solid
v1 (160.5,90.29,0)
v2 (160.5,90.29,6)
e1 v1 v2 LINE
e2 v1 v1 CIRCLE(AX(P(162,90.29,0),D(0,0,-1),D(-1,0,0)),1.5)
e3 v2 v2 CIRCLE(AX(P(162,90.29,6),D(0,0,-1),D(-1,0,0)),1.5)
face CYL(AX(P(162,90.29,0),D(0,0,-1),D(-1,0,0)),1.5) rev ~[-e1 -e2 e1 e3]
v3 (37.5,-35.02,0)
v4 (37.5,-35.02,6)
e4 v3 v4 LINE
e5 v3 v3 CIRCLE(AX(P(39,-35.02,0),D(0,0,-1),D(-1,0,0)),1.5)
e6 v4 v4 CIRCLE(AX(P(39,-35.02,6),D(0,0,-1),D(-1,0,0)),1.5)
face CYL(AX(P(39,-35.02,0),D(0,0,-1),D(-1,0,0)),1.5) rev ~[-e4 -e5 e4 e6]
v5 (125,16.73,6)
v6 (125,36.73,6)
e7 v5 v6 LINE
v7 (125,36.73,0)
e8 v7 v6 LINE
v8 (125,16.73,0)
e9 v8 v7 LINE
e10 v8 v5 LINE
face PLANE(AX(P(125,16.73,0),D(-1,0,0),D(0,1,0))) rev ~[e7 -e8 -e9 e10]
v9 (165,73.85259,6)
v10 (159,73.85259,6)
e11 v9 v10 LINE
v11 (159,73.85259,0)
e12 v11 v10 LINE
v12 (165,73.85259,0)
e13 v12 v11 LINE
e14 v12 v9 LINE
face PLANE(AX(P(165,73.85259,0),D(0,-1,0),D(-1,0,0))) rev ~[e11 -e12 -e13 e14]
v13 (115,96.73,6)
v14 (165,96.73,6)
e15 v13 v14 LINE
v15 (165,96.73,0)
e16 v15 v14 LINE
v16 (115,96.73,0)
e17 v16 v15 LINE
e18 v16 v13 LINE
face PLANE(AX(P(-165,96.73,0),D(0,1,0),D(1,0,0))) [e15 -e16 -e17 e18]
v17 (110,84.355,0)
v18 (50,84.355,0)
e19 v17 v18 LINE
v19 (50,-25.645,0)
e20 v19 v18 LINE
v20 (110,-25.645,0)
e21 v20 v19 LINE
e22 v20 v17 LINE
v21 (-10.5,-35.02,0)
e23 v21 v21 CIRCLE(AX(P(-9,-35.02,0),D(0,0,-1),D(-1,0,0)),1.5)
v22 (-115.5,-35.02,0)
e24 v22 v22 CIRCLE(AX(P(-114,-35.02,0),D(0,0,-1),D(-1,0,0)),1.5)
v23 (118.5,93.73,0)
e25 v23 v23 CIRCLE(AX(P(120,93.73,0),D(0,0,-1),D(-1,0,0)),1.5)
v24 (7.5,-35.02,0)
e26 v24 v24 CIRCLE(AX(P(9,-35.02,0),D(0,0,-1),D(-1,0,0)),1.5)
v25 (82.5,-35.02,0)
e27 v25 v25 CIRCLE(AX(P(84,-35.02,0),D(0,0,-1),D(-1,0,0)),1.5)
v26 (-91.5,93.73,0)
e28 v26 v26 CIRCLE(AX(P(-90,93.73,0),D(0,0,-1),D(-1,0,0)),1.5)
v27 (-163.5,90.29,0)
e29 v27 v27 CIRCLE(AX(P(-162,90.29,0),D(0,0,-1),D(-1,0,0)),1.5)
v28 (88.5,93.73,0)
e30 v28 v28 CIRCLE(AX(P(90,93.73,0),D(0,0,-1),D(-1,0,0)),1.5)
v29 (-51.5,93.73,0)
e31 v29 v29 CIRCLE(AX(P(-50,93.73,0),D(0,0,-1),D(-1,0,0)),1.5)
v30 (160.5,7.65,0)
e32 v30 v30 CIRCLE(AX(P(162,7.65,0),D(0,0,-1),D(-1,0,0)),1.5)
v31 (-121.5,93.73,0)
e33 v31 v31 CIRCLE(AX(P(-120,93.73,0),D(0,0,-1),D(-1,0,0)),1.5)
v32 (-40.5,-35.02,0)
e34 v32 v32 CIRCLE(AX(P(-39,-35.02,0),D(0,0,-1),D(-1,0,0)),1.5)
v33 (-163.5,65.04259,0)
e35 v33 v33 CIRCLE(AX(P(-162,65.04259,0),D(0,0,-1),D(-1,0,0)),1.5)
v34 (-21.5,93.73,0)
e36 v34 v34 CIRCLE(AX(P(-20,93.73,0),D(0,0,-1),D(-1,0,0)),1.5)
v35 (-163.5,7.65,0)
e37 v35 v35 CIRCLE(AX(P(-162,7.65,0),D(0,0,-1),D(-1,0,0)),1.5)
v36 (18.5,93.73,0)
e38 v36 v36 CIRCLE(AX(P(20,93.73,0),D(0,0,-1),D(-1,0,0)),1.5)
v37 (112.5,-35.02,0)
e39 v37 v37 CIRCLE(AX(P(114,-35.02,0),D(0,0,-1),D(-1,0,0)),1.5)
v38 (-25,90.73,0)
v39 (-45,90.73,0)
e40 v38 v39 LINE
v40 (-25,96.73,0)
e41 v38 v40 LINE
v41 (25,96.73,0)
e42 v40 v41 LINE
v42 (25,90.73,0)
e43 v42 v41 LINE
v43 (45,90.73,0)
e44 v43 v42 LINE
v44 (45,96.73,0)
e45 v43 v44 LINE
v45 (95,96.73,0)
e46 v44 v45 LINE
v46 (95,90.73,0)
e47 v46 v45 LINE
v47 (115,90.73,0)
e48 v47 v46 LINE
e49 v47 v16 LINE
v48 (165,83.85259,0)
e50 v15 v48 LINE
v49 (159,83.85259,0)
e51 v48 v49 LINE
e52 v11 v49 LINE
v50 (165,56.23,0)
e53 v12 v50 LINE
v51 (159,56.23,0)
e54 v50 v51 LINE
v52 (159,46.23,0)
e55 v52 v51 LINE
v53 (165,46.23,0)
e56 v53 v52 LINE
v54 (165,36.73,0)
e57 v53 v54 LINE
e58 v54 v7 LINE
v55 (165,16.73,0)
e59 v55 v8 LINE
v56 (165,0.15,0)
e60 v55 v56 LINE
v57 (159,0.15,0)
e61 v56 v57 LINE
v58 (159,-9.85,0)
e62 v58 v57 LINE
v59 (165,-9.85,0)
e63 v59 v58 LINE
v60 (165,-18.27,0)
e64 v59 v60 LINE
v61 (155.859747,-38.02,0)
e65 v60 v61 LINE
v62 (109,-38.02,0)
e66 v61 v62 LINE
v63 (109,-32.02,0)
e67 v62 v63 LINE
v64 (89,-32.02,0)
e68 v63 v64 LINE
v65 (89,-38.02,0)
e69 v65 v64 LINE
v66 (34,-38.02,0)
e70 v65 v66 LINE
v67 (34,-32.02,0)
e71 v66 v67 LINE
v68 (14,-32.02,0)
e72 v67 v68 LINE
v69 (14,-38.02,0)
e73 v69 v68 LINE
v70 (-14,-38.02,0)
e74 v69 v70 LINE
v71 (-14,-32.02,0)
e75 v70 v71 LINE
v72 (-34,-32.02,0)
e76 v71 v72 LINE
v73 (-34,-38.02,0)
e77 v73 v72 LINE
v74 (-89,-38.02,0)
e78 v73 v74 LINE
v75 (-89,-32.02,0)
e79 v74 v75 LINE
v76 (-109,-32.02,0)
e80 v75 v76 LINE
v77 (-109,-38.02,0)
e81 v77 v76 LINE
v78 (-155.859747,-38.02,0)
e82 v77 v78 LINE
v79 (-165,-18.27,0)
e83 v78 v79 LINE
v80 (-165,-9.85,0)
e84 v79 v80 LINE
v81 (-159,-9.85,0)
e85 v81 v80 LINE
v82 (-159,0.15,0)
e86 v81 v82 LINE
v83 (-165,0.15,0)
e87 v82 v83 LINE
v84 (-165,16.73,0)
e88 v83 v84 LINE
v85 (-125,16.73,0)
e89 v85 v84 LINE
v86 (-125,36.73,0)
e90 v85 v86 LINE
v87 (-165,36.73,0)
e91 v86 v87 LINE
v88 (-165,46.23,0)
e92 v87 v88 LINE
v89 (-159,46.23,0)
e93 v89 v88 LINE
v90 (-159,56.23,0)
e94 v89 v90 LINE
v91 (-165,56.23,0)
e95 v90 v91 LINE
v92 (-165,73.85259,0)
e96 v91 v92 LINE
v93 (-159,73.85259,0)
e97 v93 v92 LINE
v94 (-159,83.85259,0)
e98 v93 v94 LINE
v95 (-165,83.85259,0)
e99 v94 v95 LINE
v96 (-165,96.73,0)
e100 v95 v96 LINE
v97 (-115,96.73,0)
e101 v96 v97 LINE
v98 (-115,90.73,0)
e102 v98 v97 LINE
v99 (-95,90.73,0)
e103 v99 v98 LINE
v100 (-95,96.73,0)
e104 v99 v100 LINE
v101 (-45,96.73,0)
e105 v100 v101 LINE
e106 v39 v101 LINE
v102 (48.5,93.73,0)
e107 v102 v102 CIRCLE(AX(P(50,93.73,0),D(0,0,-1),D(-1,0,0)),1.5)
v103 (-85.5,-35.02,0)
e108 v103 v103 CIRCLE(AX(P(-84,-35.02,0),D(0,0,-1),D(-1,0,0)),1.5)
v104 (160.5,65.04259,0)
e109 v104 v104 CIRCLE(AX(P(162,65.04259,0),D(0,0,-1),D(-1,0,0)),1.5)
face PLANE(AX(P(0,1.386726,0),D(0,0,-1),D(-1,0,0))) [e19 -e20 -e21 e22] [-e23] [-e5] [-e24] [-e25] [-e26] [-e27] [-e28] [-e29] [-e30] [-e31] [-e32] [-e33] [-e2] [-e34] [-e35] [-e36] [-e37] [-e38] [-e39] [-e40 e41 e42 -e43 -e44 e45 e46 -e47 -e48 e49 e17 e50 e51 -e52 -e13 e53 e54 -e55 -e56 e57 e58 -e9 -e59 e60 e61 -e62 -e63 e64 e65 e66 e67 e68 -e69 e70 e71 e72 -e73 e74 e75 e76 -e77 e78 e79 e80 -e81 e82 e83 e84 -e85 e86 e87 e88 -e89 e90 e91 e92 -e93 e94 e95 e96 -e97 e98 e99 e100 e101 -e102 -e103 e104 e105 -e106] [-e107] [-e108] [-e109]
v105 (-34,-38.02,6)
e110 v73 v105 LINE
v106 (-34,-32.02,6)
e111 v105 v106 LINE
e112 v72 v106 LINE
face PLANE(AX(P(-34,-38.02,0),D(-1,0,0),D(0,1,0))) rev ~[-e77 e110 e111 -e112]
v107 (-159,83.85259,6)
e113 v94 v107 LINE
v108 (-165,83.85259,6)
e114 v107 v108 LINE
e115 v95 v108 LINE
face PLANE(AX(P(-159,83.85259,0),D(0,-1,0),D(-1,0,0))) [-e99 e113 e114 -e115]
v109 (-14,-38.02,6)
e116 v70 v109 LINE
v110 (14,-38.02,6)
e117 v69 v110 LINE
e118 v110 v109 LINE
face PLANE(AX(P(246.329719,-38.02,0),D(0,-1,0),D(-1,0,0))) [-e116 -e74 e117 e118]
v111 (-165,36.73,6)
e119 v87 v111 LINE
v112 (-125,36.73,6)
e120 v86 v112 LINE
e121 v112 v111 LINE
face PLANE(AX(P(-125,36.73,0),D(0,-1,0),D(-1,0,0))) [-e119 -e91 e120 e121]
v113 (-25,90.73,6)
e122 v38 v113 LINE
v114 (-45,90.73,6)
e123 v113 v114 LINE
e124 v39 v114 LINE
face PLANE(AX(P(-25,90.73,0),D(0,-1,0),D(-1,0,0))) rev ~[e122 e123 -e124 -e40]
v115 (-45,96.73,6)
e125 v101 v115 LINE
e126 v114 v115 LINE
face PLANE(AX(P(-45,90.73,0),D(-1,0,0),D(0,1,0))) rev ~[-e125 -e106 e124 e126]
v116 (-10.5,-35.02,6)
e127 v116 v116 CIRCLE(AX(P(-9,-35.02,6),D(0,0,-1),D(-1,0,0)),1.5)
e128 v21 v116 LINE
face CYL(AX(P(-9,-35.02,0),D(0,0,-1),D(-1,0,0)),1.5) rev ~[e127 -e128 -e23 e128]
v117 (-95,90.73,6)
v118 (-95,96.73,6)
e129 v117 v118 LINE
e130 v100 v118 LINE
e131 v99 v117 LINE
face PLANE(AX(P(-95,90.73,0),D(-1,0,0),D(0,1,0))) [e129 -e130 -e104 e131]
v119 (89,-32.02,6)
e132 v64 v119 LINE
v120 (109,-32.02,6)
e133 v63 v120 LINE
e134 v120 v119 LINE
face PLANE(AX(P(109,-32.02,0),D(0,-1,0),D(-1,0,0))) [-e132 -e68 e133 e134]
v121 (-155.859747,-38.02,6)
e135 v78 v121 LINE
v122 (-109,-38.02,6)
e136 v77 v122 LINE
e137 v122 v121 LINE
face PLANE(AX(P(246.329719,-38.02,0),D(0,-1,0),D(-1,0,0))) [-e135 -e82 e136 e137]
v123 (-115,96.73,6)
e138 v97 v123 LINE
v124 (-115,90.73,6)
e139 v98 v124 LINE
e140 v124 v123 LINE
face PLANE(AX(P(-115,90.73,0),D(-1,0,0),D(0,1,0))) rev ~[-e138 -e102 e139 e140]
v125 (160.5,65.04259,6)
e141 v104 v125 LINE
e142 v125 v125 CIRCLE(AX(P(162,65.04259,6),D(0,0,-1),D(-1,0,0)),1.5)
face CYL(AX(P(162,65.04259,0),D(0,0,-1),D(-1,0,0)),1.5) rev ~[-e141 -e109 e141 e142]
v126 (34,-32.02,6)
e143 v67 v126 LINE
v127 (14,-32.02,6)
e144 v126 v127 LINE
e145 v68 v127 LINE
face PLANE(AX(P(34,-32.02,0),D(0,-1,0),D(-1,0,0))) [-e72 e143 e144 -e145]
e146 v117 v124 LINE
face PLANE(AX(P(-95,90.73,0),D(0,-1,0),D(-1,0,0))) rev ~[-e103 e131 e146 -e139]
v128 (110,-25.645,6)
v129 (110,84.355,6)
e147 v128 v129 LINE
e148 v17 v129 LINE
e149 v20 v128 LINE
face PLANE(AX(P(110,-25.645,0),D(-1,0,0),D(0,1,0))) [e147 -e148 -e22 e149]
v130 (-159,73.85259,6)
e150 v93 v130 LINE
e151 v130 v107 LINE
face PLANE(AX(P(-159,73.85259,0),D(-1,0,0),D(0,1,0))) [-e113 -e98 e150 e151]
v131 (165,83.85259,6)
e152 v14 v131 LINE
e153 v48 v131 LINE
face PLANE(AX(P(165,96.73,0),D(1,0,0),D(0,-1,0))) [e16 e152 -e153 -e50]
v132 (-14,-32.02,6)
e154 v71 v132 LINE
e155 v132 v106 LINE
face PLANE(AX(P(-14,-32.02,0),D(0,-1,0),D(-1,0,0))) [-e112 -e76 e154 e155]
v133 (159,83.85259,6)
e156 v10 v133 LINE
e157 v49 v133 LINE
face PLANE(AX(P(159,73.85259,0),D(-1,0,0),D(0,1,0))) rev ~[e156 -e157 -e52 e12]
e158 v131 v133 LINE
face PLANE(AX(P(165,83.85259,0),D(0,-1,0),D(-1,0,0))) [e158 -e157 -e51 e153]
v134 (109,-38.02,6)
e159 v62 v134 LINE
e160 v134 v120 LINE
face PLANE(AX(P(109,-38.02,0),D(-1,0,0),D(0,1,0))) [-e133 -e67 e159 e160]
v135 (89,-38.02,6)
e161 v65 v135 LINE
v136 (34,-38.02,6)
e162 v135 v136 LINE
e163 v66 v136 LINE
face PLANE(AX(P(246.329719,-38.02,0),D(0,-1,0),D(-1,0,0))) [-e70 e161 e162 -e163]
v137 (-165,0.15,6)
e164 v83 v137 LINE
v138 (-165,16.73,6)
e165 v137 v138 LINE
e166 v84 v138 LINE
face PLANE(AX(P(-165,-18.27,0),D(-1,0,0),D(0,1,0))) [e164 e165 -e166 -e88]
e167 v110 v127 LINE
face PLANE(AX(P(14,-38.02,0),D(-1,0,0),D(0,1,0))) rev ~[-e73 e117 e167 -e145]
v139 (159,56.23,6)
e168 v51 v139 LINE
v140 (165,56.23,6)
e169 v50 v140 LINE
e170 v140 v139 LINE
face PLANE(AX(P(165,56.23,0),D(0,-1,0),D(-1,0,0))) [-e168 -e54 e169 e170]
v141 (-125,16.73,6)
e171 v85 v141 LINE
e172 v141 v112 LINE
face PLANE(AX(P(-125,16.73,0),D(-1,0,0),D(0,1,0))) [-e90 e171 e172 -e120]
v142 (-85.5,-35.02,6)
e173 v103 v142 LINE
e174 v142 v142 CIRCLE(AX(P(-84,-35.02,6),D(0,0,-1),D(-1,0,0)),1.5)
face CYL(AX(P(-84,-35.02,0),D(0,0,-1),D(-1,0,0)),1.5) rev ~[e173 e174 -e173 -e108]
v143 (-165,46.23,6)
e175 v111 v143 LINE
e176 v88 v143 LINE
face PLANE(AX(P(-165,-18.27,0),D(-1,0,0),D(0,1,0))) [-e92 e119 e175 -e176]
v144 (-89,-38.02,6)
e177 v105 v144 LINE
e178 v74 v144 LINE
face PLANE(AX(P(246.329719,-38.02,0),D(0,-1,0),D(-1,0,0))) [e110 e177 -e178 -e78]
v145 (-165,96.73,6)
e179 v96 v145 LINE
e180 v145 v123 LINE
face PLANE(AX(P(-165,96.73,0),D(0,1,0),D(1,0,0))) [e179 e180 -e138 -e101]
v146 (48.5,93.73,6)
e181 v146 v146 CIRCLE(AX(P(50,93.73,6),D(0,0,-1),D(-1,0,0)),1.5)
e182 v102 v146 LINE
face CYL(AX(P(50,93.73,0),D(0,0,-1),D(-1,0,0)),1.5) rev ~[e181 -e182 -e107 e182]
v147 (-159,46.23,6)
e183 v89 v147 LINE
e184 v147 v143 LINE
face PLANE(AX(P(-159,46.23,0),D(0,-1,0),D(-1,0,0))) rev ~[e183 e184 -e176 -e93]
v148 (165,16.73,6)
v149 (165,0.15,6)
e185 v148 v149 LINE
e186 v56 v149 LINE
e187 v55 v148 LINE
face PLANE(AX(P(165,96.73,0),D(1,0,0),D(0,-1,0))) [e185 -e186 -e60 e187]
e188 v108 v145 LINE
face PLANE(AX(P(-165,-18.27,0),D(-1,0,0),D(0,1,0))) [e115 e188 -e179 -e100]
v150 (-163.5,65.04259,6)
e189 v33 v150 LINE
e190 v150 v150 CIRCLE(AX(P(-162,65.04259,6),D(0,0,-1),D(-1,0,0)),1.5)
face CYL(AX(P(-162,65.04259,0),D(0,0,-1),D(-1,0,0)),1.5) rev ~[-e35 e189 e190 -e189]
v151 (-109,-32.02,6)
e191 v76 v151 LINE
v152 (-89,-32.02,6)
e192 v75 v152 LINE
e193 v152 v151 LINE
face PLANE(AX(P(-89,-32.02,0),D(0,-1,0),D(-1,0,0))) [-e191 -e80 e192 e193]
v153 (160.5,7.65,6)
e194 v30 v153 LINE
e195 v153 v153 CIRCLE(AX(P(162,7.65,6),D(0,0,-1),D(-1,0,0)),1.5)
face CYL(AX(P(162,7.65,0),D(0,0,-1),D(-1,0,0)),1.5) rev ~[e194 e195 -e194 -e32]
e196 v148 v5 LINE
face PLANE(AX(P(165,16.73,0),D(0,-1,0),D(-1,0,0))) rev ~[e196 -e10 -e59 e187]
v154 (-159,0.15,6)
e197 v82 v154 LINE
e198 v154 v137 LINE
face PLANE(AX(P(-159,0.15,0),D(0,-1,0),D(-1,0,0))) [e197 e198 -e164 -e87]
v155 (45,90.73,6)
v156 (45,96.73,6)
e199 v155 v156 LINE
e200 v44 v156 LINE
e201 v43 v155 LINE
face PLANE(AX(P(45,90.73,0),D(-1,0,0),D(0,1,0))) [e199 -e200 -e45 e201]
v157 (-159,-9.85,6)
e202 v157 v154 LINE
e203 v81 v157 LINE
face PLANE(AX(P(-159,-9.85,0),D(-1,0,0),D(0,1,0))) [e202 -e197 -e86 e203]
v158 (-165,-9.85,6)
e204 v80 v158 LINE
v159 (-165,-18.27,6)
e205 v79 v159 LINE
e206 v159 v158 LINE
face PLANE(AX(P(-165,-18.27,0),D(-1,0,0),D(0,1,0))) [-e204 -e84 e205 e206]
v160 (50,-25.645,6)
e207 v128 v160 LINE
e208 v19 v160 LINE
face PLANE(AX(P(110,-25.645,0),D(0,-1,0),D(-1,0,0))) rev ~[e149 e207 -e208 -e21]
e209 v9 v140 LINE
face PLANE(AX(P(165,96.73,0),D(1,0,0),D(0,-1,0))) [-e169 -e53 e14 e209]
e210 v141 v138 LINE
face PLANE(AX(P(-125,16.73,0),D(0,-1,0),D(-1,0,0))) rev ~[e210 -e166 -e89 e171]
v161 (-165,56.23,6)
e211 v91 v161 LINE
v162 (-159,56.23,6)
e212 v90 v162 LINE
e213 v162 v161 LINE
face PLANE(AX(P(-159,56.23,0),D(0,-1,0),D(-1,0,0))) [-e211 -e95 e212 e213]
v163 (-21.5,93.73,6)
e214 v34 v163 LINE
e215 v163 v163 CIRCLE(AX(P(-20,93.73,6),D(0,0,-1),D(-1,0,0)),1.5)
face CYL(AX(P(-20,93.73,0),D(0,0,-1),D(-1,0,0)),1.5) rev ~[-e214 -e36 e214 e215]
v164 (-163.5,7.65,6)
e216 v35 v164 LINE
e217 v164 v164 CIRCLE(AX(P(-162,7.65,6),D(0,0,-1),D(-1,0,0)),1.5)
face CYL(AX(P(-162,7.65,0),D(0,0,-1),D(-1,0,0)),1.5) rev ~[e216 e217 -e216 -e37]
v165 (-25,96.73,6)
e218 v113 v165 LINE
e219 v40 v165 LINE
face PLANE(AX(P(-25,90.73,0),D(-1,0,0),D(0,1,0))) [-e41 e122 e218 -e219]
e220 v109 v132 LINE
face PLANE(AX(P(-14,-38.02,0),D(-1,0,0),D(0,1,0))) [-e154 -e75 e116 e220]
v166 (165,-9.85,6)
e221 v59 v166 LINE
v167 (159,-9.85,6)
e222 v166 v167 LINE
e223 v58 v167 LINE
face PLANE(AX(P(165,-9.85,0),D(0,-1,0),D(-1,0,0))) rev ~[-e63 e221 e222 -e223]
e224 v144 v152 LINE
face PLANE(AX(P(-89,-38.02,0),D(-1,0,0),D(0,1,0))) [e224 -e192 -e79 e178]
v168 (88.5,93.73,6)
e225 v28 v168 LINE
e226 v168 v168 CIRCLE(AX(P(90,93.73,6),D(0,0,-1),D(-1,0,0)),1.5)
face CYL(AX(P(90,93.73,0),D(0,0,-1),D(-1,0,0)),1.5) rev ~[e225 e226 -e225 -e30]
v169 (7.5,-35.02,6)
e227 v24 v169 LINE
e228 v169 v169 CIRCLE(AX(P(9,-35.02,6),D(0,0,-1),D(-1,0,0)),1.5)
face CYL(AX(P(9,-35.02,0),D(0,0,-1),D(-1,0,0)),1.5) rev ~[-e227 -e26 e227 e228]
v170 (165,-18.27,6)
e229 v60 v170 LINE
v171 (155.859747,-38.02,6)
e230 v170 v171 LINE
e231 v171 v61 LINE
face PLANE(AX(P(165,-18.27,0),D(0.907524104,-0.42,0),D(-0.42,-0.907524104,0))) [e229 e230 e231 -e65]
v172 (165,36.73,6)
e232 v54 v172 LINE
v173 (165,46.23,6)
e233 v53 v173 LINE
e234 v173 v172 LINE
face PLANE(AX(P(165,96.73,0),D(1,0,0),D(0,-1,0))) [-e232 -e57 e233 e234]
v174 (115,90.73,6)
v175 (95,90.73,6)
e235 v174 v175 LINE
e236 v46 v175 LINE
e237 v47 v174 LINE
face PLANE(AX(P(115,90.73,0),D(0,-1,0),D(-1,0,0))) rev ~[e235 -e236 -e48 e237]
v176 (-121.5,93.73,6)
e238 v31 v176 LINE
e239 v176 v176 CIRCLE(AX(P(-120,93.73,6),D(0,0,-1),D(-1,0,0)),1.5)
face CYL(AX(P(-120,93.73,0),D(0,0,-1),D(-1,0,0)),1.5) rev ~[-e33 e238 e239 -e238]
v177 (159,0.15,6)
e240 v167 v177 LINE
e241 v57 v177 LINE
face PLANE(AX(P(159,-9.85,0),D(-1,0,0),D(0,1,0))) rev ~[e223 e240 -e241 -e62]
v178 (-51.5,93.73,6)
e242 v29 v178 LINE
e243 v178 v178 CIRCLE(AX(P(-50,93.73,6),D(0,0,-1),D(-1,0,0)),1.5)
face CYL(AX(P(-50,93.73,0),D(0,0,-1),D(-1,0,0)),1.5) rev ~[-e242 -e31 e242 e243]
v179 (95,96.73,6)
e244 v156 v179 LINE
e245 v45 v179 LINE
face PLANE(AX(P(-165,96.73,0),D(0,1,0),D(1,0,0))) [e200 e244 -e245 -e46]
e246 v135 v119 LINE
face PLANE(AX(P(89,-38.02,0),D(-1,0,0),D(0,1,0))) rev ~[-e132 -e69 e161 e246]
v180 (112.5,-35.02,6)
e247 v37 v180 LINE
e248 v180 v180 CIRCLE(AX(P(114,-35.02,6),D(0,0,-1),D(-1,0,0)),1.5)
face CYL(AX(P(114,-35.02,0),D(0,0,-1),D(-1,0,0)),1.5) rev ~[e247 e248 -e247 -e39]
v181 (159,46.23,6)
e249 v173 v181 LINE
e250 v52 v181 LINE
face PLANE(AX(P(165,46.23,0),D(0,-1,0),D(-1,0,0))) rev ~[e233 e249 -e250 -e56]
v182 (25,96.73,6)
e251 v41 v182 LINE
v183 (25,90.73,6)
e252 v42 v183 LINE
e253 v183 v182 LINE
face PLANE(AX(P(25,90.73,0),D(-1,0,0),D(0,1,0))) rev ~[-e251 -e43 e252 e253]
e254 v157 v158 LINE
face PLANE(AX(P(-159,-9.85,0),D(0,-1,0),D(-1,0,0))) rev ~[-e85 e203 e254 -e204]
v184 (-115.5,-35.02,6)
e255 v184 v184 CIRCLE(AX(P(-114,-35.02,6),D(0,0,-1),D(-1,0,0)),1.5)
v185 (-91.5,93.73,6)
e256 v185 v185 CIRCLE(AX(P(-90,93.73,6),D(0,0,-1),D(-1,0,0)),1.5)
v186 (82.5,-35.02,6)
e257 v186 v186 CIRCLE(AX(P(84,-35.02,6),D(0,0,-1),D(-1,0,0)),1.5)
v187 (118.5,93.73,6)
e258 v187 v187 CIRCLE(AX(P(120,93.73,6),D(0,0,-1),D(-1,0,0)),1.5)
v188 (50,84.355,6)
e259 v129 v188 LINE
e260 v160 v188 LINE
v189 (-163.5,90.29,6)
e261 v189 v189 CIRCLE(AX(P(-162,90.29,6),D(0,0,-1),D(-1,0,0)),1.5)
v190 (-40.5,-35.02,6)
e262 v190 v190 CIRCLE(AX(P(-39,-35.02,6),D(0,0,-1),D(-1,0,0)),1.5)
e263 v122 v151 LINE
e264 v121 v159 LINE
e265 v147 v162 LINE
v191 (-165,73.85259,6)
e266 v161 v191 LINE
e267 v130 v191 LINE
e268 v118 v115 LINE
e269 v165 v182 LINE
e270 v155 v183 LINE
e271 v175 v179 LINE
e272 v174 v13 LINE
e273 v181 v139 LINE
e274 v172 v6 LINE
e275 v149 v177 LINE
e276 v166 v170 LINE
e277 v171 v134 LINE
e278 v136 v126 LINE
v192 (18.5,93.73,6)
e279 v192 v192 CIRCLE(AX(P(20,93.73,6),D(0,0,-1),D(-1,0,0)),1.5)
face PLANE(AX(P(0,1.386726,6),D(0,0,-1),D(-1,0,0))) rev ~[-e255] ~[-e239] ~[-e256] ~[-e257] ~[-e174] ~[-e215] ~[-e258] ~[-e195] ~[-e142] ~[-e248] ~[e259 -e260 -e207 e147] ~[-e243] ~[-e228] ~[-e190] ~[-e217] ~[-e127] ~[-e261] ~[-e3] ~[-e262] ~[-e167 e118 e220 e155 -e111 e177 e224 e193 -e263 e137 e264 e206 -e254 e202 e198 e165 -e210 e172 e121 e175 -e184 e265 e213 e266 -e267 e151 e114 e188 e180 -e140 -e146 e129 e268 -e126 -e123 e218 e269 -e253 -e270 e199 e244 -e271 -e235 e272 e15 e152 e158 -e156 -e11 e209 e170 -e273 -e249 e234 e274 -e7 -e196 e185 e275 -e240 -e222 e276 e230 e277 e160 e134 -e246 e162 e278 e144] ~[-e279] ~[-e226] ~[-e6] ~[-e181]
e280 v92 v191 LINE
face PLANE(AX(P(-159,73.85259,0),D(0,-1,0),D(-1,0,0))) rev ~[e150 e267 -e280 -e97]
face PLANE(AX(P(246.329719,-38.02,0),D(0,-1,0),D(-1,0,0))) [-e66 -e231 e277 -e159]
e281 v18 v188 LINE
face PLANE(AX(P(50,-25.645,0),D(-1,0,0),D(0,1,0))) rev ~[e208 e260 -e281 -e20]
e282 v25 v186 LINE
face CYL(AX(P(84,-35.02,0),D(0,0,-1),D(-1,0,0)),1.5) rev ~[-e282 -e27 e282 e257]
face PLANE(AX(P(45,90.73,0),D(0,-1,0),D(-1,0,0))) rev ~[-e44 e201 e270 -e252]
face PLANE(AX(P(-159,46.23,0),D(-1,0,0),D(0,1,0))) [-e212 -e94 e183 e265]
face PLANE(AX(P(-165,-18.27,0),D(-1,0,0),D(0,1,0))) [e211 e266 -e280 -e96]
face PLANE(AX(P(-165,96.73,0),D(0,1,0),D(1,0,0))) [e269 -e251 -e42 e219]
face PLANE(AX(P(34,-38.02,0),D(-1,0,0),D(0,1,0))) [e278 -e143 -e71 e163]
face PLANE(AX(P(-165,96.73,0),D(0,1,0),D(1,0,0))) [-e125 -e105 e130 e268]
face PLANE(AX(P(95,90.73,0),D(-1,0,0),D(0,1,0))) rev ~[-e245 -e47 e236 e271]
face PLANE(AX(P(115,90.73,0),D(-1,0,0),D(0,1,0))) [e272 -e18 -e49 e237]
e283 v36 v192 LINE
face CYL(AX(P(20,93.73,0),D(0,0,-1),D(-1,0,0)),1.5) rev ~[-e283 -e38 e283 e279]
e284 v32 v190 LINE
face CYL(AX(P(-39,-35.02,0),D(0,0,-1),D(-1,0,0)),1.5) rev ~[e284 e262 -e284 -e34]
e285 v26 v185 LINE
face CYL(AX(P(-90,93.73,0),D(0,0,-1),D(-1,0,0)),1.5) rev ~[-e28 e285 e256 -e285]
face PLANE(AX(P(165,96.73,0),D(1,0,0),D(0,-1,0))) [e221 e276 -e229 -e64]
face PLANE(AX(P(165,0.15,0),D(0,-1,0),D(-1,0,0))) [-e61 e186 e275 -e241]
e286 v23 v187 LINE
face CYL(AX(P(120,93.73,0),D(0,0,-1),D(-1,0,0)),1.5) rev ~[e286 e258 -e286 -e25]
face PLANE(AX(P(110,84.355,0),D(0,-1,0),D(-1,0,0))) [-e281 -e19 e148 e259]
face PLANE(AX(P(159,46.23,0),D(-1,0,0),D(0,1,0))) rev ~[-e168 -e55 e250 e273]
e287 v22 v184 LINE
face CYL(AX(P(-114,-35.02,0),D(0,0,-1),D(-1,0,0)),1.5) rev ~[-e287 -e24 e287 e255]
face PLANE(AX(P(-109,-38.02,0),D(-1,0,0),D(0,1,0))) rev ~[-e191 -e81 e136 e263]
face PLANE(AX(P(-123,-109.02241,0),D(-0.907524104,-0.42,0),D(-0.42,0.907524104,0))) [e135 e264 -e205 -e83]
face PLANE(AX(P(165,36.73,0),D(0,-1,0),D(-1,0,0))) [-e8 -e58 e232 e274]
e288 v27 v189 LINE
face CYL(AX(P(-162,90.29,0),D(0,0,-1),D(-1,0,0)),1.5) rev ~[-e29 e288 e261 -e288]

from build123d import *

# Parameters (mm, degrees)
BOSS_EXTRU_1_DEPTH      = 6
ESQUISSE3_W             = 6
ESQUISSE3_H             = 10
ESQUISSE3_W_2           = 20
ESQUISSE3_H_2           = 6
ESQUISSE3_W_3           = 60
ESQUISSE3_H_3           = 110
ESQUISSE3_W_4           = 40
ESQUISSE3_H_4           = 20
ENL_V_MAT_EXTRU_2_DEPTH = 6
ESQUISSE4_R             = 1.5
ENL_V_MAT_EXTRU_3_DEPTH = 6
ESQUISSE5_W             = 456.045253014
ESQUISSE5_H             = 136.228984631
ENL_V_MAT_EXTRU_4_DEPTH = 6


with BuildPart() as part:
    # Esquisse1 → Boss.-Extru.1 (new body)
    with BuildSketch(Plane.XY):
        Polygon((-165, 96.73), (165, 96.73), (165, -18.27), (123, -109.022410436), (-123, -109.022410436), (-165, -18.27), align=None)
    extrude(amount=BOSS_EXTRU_1_DEPTH)

    # Esquisse3 → Enlèv. mat.-Extru.2 (cut)
    with BuildSketch(Plane(origin=(0, 0, 0), x_dir=(-1, 0, 0), z_dir=(0, 0, -1))):
        with Locations((162, -4.85)):
            Rectangle(ESQUISSE3_W, ESQUISSE3_H)
        with Locations((162, 78.852589564)):
            Rectangle(ESQUISSE3_W, ESQUISSE3_H)
        with Locations((-24, -35.02)):
            Rectangle(ESQUISSE3_W_2, ESQUISSE3_H_2)
        with Locations((99, -35.02)):
            Rectangle(ESQUISSE3_W_2, ESQUISSE3_H_2)
        with Locations((-162, 51.23)):
            Rectangle(ESQUISSE3_W, ESQUISSE3_H)
        with Locations((-80, 29.355)):
            Rectangle(ESQUISSE3_W_3, ESQUISSE3_H_3)
        with Locations((24, -35.02)):
            Rectangle(ESQUISSE3_W_2, ESQUISSE3_H_2)
        with Locations((-162, 78.852589564)):
            Rectangle(ESQUISSE3_W, ESQUISSE3_H)
        with Locations((-162, -4.85)):
            Rectangle(ESQUISSE3_W, ESQUISSE3_H)
        with Locations((105, 93.73)):
            Rectangle(ESQUISSE3_W_2, ESQUISSE3_H_2)
        with Locations((-35, 93.73)):
            Rectangle(ESQUISSE3_W_2, ESQUISSE3_H_2)
        with Locations((35, 93.73)):
            Rectangle(ESQUISSE3_W_2, ESQUISSE3_H_2)
        with Locations((-105, 93.73)):
            Rectangle(ESQUISSE3_W_2, ESQUISSE3_H_2)
        with Locations((162, 51.23)):
            Rectangle(ESQUISSE3_W, ESQUISSE3_H)
        with Locations((-99, -35.02)):
            Rectangle(ESQUISSE3_W_2, ESQUISSE3_H_2)
        with Locations((-145, 26.73)):
            Rectangle(ESQUISSE3_W_4, ESQUISSE3_H_4)
        with Locations((145, 26.73)):
            Rectangle(ESQUISSE3_W_4, ESQUISSE3_H_4)
    extrude(amount=-ENL_V_MAT_EXTRU_2_DEPTH, mode=Mode.SUBTRACT)

    # Esquisse4 → Enlèv. mat.-Extru.3 (cut)
    with BuildSketch(Plane(origin=(0, 0, 0), x_dir=(-1, 0, 0), z_dir=(0, 0, -1))):
        with Locations((162, 7.65)):
            Circle(ESQUISSE4_R)
        with Locations((114, -35.02)):
            Circle(ESQUISSE4_R)
        with Locations((162, 65.042589564)):
            Circle(ESQUISSE4_R)
        with Locations((84, -35.02)):
            Circle(ESQUISSE4_R)
        with Locations((39, -35.02)):
            Circle(ESQUISSE4_R)
        with Locations((162, 90.29)):
            Circle(ESQUISSE4_R)
        with Locations((9, -35.02)):
            Circle(ESQUISSE4_R)
        with Locations((-9, -35.02)):
            Circle(ESQUISSE4_R)
        with Locations((-39, -35.02)):
            Circle(ESQUISSE4_R)
        with Locations((-84, -35.02)):
            Circle(ESQUISSE4_R)
        with Locations((120, 93.73)):
            Circle(ESQUISSE4_R)
        with Locations((-114, -35.02)):
            Circle(ESQUISSE4_R)
        with Locations((90, 93.73)):
            Circle(ESQUISSE4_R)
        with Locations((50, 93.73)):
            Circle(ESQUISSE4_R)
        with Locations((20, 93.73)):
            Circle(ESQUISSE4_R)
        with Locations((-20, 93.73)):
            Circle(ESQUISSE4_R)
        with Locations((-50, 93.73)):
            Circle(ESQUISSE4_R)
        with Locations((-90, 93.73)):
            Circle(ESQUISSE4_R)
        with Locations((-120, 93.73)):
            Circle(ESQUISSE4_R)
        with Locations((-162, 90.29)):
            Circle(ESQUISSE4_R)
        with Locations((-162, 65.042589564)):
            Circle(ESQUISSE4_R)
        with Locations((-162, 7.65)):
            Circle(ESQUISSE4_R)
    extrude(amount=-ENL_V_MAT_EXTRU_3_DEPTH, mode=Mode.SUBTRACT)

    # Esquisse5 → Enlèv. mat.-Extru.4 (cut)
    with BuildSketch(Plane(origin=(0, 0, 0), x_dir=(-1, 0, 0), z_dir=(0, 0, -1))):
        with Locations((-18.307092018, -106.134492316)):
            Rectangle(ESQUISSE5_W, ESQUISSE5_H)
    extrude(amount=-ENL_V_MAT_EXTRU_4_DEPTH, mode=Mode.SUBTRACT)


solid = part.part
